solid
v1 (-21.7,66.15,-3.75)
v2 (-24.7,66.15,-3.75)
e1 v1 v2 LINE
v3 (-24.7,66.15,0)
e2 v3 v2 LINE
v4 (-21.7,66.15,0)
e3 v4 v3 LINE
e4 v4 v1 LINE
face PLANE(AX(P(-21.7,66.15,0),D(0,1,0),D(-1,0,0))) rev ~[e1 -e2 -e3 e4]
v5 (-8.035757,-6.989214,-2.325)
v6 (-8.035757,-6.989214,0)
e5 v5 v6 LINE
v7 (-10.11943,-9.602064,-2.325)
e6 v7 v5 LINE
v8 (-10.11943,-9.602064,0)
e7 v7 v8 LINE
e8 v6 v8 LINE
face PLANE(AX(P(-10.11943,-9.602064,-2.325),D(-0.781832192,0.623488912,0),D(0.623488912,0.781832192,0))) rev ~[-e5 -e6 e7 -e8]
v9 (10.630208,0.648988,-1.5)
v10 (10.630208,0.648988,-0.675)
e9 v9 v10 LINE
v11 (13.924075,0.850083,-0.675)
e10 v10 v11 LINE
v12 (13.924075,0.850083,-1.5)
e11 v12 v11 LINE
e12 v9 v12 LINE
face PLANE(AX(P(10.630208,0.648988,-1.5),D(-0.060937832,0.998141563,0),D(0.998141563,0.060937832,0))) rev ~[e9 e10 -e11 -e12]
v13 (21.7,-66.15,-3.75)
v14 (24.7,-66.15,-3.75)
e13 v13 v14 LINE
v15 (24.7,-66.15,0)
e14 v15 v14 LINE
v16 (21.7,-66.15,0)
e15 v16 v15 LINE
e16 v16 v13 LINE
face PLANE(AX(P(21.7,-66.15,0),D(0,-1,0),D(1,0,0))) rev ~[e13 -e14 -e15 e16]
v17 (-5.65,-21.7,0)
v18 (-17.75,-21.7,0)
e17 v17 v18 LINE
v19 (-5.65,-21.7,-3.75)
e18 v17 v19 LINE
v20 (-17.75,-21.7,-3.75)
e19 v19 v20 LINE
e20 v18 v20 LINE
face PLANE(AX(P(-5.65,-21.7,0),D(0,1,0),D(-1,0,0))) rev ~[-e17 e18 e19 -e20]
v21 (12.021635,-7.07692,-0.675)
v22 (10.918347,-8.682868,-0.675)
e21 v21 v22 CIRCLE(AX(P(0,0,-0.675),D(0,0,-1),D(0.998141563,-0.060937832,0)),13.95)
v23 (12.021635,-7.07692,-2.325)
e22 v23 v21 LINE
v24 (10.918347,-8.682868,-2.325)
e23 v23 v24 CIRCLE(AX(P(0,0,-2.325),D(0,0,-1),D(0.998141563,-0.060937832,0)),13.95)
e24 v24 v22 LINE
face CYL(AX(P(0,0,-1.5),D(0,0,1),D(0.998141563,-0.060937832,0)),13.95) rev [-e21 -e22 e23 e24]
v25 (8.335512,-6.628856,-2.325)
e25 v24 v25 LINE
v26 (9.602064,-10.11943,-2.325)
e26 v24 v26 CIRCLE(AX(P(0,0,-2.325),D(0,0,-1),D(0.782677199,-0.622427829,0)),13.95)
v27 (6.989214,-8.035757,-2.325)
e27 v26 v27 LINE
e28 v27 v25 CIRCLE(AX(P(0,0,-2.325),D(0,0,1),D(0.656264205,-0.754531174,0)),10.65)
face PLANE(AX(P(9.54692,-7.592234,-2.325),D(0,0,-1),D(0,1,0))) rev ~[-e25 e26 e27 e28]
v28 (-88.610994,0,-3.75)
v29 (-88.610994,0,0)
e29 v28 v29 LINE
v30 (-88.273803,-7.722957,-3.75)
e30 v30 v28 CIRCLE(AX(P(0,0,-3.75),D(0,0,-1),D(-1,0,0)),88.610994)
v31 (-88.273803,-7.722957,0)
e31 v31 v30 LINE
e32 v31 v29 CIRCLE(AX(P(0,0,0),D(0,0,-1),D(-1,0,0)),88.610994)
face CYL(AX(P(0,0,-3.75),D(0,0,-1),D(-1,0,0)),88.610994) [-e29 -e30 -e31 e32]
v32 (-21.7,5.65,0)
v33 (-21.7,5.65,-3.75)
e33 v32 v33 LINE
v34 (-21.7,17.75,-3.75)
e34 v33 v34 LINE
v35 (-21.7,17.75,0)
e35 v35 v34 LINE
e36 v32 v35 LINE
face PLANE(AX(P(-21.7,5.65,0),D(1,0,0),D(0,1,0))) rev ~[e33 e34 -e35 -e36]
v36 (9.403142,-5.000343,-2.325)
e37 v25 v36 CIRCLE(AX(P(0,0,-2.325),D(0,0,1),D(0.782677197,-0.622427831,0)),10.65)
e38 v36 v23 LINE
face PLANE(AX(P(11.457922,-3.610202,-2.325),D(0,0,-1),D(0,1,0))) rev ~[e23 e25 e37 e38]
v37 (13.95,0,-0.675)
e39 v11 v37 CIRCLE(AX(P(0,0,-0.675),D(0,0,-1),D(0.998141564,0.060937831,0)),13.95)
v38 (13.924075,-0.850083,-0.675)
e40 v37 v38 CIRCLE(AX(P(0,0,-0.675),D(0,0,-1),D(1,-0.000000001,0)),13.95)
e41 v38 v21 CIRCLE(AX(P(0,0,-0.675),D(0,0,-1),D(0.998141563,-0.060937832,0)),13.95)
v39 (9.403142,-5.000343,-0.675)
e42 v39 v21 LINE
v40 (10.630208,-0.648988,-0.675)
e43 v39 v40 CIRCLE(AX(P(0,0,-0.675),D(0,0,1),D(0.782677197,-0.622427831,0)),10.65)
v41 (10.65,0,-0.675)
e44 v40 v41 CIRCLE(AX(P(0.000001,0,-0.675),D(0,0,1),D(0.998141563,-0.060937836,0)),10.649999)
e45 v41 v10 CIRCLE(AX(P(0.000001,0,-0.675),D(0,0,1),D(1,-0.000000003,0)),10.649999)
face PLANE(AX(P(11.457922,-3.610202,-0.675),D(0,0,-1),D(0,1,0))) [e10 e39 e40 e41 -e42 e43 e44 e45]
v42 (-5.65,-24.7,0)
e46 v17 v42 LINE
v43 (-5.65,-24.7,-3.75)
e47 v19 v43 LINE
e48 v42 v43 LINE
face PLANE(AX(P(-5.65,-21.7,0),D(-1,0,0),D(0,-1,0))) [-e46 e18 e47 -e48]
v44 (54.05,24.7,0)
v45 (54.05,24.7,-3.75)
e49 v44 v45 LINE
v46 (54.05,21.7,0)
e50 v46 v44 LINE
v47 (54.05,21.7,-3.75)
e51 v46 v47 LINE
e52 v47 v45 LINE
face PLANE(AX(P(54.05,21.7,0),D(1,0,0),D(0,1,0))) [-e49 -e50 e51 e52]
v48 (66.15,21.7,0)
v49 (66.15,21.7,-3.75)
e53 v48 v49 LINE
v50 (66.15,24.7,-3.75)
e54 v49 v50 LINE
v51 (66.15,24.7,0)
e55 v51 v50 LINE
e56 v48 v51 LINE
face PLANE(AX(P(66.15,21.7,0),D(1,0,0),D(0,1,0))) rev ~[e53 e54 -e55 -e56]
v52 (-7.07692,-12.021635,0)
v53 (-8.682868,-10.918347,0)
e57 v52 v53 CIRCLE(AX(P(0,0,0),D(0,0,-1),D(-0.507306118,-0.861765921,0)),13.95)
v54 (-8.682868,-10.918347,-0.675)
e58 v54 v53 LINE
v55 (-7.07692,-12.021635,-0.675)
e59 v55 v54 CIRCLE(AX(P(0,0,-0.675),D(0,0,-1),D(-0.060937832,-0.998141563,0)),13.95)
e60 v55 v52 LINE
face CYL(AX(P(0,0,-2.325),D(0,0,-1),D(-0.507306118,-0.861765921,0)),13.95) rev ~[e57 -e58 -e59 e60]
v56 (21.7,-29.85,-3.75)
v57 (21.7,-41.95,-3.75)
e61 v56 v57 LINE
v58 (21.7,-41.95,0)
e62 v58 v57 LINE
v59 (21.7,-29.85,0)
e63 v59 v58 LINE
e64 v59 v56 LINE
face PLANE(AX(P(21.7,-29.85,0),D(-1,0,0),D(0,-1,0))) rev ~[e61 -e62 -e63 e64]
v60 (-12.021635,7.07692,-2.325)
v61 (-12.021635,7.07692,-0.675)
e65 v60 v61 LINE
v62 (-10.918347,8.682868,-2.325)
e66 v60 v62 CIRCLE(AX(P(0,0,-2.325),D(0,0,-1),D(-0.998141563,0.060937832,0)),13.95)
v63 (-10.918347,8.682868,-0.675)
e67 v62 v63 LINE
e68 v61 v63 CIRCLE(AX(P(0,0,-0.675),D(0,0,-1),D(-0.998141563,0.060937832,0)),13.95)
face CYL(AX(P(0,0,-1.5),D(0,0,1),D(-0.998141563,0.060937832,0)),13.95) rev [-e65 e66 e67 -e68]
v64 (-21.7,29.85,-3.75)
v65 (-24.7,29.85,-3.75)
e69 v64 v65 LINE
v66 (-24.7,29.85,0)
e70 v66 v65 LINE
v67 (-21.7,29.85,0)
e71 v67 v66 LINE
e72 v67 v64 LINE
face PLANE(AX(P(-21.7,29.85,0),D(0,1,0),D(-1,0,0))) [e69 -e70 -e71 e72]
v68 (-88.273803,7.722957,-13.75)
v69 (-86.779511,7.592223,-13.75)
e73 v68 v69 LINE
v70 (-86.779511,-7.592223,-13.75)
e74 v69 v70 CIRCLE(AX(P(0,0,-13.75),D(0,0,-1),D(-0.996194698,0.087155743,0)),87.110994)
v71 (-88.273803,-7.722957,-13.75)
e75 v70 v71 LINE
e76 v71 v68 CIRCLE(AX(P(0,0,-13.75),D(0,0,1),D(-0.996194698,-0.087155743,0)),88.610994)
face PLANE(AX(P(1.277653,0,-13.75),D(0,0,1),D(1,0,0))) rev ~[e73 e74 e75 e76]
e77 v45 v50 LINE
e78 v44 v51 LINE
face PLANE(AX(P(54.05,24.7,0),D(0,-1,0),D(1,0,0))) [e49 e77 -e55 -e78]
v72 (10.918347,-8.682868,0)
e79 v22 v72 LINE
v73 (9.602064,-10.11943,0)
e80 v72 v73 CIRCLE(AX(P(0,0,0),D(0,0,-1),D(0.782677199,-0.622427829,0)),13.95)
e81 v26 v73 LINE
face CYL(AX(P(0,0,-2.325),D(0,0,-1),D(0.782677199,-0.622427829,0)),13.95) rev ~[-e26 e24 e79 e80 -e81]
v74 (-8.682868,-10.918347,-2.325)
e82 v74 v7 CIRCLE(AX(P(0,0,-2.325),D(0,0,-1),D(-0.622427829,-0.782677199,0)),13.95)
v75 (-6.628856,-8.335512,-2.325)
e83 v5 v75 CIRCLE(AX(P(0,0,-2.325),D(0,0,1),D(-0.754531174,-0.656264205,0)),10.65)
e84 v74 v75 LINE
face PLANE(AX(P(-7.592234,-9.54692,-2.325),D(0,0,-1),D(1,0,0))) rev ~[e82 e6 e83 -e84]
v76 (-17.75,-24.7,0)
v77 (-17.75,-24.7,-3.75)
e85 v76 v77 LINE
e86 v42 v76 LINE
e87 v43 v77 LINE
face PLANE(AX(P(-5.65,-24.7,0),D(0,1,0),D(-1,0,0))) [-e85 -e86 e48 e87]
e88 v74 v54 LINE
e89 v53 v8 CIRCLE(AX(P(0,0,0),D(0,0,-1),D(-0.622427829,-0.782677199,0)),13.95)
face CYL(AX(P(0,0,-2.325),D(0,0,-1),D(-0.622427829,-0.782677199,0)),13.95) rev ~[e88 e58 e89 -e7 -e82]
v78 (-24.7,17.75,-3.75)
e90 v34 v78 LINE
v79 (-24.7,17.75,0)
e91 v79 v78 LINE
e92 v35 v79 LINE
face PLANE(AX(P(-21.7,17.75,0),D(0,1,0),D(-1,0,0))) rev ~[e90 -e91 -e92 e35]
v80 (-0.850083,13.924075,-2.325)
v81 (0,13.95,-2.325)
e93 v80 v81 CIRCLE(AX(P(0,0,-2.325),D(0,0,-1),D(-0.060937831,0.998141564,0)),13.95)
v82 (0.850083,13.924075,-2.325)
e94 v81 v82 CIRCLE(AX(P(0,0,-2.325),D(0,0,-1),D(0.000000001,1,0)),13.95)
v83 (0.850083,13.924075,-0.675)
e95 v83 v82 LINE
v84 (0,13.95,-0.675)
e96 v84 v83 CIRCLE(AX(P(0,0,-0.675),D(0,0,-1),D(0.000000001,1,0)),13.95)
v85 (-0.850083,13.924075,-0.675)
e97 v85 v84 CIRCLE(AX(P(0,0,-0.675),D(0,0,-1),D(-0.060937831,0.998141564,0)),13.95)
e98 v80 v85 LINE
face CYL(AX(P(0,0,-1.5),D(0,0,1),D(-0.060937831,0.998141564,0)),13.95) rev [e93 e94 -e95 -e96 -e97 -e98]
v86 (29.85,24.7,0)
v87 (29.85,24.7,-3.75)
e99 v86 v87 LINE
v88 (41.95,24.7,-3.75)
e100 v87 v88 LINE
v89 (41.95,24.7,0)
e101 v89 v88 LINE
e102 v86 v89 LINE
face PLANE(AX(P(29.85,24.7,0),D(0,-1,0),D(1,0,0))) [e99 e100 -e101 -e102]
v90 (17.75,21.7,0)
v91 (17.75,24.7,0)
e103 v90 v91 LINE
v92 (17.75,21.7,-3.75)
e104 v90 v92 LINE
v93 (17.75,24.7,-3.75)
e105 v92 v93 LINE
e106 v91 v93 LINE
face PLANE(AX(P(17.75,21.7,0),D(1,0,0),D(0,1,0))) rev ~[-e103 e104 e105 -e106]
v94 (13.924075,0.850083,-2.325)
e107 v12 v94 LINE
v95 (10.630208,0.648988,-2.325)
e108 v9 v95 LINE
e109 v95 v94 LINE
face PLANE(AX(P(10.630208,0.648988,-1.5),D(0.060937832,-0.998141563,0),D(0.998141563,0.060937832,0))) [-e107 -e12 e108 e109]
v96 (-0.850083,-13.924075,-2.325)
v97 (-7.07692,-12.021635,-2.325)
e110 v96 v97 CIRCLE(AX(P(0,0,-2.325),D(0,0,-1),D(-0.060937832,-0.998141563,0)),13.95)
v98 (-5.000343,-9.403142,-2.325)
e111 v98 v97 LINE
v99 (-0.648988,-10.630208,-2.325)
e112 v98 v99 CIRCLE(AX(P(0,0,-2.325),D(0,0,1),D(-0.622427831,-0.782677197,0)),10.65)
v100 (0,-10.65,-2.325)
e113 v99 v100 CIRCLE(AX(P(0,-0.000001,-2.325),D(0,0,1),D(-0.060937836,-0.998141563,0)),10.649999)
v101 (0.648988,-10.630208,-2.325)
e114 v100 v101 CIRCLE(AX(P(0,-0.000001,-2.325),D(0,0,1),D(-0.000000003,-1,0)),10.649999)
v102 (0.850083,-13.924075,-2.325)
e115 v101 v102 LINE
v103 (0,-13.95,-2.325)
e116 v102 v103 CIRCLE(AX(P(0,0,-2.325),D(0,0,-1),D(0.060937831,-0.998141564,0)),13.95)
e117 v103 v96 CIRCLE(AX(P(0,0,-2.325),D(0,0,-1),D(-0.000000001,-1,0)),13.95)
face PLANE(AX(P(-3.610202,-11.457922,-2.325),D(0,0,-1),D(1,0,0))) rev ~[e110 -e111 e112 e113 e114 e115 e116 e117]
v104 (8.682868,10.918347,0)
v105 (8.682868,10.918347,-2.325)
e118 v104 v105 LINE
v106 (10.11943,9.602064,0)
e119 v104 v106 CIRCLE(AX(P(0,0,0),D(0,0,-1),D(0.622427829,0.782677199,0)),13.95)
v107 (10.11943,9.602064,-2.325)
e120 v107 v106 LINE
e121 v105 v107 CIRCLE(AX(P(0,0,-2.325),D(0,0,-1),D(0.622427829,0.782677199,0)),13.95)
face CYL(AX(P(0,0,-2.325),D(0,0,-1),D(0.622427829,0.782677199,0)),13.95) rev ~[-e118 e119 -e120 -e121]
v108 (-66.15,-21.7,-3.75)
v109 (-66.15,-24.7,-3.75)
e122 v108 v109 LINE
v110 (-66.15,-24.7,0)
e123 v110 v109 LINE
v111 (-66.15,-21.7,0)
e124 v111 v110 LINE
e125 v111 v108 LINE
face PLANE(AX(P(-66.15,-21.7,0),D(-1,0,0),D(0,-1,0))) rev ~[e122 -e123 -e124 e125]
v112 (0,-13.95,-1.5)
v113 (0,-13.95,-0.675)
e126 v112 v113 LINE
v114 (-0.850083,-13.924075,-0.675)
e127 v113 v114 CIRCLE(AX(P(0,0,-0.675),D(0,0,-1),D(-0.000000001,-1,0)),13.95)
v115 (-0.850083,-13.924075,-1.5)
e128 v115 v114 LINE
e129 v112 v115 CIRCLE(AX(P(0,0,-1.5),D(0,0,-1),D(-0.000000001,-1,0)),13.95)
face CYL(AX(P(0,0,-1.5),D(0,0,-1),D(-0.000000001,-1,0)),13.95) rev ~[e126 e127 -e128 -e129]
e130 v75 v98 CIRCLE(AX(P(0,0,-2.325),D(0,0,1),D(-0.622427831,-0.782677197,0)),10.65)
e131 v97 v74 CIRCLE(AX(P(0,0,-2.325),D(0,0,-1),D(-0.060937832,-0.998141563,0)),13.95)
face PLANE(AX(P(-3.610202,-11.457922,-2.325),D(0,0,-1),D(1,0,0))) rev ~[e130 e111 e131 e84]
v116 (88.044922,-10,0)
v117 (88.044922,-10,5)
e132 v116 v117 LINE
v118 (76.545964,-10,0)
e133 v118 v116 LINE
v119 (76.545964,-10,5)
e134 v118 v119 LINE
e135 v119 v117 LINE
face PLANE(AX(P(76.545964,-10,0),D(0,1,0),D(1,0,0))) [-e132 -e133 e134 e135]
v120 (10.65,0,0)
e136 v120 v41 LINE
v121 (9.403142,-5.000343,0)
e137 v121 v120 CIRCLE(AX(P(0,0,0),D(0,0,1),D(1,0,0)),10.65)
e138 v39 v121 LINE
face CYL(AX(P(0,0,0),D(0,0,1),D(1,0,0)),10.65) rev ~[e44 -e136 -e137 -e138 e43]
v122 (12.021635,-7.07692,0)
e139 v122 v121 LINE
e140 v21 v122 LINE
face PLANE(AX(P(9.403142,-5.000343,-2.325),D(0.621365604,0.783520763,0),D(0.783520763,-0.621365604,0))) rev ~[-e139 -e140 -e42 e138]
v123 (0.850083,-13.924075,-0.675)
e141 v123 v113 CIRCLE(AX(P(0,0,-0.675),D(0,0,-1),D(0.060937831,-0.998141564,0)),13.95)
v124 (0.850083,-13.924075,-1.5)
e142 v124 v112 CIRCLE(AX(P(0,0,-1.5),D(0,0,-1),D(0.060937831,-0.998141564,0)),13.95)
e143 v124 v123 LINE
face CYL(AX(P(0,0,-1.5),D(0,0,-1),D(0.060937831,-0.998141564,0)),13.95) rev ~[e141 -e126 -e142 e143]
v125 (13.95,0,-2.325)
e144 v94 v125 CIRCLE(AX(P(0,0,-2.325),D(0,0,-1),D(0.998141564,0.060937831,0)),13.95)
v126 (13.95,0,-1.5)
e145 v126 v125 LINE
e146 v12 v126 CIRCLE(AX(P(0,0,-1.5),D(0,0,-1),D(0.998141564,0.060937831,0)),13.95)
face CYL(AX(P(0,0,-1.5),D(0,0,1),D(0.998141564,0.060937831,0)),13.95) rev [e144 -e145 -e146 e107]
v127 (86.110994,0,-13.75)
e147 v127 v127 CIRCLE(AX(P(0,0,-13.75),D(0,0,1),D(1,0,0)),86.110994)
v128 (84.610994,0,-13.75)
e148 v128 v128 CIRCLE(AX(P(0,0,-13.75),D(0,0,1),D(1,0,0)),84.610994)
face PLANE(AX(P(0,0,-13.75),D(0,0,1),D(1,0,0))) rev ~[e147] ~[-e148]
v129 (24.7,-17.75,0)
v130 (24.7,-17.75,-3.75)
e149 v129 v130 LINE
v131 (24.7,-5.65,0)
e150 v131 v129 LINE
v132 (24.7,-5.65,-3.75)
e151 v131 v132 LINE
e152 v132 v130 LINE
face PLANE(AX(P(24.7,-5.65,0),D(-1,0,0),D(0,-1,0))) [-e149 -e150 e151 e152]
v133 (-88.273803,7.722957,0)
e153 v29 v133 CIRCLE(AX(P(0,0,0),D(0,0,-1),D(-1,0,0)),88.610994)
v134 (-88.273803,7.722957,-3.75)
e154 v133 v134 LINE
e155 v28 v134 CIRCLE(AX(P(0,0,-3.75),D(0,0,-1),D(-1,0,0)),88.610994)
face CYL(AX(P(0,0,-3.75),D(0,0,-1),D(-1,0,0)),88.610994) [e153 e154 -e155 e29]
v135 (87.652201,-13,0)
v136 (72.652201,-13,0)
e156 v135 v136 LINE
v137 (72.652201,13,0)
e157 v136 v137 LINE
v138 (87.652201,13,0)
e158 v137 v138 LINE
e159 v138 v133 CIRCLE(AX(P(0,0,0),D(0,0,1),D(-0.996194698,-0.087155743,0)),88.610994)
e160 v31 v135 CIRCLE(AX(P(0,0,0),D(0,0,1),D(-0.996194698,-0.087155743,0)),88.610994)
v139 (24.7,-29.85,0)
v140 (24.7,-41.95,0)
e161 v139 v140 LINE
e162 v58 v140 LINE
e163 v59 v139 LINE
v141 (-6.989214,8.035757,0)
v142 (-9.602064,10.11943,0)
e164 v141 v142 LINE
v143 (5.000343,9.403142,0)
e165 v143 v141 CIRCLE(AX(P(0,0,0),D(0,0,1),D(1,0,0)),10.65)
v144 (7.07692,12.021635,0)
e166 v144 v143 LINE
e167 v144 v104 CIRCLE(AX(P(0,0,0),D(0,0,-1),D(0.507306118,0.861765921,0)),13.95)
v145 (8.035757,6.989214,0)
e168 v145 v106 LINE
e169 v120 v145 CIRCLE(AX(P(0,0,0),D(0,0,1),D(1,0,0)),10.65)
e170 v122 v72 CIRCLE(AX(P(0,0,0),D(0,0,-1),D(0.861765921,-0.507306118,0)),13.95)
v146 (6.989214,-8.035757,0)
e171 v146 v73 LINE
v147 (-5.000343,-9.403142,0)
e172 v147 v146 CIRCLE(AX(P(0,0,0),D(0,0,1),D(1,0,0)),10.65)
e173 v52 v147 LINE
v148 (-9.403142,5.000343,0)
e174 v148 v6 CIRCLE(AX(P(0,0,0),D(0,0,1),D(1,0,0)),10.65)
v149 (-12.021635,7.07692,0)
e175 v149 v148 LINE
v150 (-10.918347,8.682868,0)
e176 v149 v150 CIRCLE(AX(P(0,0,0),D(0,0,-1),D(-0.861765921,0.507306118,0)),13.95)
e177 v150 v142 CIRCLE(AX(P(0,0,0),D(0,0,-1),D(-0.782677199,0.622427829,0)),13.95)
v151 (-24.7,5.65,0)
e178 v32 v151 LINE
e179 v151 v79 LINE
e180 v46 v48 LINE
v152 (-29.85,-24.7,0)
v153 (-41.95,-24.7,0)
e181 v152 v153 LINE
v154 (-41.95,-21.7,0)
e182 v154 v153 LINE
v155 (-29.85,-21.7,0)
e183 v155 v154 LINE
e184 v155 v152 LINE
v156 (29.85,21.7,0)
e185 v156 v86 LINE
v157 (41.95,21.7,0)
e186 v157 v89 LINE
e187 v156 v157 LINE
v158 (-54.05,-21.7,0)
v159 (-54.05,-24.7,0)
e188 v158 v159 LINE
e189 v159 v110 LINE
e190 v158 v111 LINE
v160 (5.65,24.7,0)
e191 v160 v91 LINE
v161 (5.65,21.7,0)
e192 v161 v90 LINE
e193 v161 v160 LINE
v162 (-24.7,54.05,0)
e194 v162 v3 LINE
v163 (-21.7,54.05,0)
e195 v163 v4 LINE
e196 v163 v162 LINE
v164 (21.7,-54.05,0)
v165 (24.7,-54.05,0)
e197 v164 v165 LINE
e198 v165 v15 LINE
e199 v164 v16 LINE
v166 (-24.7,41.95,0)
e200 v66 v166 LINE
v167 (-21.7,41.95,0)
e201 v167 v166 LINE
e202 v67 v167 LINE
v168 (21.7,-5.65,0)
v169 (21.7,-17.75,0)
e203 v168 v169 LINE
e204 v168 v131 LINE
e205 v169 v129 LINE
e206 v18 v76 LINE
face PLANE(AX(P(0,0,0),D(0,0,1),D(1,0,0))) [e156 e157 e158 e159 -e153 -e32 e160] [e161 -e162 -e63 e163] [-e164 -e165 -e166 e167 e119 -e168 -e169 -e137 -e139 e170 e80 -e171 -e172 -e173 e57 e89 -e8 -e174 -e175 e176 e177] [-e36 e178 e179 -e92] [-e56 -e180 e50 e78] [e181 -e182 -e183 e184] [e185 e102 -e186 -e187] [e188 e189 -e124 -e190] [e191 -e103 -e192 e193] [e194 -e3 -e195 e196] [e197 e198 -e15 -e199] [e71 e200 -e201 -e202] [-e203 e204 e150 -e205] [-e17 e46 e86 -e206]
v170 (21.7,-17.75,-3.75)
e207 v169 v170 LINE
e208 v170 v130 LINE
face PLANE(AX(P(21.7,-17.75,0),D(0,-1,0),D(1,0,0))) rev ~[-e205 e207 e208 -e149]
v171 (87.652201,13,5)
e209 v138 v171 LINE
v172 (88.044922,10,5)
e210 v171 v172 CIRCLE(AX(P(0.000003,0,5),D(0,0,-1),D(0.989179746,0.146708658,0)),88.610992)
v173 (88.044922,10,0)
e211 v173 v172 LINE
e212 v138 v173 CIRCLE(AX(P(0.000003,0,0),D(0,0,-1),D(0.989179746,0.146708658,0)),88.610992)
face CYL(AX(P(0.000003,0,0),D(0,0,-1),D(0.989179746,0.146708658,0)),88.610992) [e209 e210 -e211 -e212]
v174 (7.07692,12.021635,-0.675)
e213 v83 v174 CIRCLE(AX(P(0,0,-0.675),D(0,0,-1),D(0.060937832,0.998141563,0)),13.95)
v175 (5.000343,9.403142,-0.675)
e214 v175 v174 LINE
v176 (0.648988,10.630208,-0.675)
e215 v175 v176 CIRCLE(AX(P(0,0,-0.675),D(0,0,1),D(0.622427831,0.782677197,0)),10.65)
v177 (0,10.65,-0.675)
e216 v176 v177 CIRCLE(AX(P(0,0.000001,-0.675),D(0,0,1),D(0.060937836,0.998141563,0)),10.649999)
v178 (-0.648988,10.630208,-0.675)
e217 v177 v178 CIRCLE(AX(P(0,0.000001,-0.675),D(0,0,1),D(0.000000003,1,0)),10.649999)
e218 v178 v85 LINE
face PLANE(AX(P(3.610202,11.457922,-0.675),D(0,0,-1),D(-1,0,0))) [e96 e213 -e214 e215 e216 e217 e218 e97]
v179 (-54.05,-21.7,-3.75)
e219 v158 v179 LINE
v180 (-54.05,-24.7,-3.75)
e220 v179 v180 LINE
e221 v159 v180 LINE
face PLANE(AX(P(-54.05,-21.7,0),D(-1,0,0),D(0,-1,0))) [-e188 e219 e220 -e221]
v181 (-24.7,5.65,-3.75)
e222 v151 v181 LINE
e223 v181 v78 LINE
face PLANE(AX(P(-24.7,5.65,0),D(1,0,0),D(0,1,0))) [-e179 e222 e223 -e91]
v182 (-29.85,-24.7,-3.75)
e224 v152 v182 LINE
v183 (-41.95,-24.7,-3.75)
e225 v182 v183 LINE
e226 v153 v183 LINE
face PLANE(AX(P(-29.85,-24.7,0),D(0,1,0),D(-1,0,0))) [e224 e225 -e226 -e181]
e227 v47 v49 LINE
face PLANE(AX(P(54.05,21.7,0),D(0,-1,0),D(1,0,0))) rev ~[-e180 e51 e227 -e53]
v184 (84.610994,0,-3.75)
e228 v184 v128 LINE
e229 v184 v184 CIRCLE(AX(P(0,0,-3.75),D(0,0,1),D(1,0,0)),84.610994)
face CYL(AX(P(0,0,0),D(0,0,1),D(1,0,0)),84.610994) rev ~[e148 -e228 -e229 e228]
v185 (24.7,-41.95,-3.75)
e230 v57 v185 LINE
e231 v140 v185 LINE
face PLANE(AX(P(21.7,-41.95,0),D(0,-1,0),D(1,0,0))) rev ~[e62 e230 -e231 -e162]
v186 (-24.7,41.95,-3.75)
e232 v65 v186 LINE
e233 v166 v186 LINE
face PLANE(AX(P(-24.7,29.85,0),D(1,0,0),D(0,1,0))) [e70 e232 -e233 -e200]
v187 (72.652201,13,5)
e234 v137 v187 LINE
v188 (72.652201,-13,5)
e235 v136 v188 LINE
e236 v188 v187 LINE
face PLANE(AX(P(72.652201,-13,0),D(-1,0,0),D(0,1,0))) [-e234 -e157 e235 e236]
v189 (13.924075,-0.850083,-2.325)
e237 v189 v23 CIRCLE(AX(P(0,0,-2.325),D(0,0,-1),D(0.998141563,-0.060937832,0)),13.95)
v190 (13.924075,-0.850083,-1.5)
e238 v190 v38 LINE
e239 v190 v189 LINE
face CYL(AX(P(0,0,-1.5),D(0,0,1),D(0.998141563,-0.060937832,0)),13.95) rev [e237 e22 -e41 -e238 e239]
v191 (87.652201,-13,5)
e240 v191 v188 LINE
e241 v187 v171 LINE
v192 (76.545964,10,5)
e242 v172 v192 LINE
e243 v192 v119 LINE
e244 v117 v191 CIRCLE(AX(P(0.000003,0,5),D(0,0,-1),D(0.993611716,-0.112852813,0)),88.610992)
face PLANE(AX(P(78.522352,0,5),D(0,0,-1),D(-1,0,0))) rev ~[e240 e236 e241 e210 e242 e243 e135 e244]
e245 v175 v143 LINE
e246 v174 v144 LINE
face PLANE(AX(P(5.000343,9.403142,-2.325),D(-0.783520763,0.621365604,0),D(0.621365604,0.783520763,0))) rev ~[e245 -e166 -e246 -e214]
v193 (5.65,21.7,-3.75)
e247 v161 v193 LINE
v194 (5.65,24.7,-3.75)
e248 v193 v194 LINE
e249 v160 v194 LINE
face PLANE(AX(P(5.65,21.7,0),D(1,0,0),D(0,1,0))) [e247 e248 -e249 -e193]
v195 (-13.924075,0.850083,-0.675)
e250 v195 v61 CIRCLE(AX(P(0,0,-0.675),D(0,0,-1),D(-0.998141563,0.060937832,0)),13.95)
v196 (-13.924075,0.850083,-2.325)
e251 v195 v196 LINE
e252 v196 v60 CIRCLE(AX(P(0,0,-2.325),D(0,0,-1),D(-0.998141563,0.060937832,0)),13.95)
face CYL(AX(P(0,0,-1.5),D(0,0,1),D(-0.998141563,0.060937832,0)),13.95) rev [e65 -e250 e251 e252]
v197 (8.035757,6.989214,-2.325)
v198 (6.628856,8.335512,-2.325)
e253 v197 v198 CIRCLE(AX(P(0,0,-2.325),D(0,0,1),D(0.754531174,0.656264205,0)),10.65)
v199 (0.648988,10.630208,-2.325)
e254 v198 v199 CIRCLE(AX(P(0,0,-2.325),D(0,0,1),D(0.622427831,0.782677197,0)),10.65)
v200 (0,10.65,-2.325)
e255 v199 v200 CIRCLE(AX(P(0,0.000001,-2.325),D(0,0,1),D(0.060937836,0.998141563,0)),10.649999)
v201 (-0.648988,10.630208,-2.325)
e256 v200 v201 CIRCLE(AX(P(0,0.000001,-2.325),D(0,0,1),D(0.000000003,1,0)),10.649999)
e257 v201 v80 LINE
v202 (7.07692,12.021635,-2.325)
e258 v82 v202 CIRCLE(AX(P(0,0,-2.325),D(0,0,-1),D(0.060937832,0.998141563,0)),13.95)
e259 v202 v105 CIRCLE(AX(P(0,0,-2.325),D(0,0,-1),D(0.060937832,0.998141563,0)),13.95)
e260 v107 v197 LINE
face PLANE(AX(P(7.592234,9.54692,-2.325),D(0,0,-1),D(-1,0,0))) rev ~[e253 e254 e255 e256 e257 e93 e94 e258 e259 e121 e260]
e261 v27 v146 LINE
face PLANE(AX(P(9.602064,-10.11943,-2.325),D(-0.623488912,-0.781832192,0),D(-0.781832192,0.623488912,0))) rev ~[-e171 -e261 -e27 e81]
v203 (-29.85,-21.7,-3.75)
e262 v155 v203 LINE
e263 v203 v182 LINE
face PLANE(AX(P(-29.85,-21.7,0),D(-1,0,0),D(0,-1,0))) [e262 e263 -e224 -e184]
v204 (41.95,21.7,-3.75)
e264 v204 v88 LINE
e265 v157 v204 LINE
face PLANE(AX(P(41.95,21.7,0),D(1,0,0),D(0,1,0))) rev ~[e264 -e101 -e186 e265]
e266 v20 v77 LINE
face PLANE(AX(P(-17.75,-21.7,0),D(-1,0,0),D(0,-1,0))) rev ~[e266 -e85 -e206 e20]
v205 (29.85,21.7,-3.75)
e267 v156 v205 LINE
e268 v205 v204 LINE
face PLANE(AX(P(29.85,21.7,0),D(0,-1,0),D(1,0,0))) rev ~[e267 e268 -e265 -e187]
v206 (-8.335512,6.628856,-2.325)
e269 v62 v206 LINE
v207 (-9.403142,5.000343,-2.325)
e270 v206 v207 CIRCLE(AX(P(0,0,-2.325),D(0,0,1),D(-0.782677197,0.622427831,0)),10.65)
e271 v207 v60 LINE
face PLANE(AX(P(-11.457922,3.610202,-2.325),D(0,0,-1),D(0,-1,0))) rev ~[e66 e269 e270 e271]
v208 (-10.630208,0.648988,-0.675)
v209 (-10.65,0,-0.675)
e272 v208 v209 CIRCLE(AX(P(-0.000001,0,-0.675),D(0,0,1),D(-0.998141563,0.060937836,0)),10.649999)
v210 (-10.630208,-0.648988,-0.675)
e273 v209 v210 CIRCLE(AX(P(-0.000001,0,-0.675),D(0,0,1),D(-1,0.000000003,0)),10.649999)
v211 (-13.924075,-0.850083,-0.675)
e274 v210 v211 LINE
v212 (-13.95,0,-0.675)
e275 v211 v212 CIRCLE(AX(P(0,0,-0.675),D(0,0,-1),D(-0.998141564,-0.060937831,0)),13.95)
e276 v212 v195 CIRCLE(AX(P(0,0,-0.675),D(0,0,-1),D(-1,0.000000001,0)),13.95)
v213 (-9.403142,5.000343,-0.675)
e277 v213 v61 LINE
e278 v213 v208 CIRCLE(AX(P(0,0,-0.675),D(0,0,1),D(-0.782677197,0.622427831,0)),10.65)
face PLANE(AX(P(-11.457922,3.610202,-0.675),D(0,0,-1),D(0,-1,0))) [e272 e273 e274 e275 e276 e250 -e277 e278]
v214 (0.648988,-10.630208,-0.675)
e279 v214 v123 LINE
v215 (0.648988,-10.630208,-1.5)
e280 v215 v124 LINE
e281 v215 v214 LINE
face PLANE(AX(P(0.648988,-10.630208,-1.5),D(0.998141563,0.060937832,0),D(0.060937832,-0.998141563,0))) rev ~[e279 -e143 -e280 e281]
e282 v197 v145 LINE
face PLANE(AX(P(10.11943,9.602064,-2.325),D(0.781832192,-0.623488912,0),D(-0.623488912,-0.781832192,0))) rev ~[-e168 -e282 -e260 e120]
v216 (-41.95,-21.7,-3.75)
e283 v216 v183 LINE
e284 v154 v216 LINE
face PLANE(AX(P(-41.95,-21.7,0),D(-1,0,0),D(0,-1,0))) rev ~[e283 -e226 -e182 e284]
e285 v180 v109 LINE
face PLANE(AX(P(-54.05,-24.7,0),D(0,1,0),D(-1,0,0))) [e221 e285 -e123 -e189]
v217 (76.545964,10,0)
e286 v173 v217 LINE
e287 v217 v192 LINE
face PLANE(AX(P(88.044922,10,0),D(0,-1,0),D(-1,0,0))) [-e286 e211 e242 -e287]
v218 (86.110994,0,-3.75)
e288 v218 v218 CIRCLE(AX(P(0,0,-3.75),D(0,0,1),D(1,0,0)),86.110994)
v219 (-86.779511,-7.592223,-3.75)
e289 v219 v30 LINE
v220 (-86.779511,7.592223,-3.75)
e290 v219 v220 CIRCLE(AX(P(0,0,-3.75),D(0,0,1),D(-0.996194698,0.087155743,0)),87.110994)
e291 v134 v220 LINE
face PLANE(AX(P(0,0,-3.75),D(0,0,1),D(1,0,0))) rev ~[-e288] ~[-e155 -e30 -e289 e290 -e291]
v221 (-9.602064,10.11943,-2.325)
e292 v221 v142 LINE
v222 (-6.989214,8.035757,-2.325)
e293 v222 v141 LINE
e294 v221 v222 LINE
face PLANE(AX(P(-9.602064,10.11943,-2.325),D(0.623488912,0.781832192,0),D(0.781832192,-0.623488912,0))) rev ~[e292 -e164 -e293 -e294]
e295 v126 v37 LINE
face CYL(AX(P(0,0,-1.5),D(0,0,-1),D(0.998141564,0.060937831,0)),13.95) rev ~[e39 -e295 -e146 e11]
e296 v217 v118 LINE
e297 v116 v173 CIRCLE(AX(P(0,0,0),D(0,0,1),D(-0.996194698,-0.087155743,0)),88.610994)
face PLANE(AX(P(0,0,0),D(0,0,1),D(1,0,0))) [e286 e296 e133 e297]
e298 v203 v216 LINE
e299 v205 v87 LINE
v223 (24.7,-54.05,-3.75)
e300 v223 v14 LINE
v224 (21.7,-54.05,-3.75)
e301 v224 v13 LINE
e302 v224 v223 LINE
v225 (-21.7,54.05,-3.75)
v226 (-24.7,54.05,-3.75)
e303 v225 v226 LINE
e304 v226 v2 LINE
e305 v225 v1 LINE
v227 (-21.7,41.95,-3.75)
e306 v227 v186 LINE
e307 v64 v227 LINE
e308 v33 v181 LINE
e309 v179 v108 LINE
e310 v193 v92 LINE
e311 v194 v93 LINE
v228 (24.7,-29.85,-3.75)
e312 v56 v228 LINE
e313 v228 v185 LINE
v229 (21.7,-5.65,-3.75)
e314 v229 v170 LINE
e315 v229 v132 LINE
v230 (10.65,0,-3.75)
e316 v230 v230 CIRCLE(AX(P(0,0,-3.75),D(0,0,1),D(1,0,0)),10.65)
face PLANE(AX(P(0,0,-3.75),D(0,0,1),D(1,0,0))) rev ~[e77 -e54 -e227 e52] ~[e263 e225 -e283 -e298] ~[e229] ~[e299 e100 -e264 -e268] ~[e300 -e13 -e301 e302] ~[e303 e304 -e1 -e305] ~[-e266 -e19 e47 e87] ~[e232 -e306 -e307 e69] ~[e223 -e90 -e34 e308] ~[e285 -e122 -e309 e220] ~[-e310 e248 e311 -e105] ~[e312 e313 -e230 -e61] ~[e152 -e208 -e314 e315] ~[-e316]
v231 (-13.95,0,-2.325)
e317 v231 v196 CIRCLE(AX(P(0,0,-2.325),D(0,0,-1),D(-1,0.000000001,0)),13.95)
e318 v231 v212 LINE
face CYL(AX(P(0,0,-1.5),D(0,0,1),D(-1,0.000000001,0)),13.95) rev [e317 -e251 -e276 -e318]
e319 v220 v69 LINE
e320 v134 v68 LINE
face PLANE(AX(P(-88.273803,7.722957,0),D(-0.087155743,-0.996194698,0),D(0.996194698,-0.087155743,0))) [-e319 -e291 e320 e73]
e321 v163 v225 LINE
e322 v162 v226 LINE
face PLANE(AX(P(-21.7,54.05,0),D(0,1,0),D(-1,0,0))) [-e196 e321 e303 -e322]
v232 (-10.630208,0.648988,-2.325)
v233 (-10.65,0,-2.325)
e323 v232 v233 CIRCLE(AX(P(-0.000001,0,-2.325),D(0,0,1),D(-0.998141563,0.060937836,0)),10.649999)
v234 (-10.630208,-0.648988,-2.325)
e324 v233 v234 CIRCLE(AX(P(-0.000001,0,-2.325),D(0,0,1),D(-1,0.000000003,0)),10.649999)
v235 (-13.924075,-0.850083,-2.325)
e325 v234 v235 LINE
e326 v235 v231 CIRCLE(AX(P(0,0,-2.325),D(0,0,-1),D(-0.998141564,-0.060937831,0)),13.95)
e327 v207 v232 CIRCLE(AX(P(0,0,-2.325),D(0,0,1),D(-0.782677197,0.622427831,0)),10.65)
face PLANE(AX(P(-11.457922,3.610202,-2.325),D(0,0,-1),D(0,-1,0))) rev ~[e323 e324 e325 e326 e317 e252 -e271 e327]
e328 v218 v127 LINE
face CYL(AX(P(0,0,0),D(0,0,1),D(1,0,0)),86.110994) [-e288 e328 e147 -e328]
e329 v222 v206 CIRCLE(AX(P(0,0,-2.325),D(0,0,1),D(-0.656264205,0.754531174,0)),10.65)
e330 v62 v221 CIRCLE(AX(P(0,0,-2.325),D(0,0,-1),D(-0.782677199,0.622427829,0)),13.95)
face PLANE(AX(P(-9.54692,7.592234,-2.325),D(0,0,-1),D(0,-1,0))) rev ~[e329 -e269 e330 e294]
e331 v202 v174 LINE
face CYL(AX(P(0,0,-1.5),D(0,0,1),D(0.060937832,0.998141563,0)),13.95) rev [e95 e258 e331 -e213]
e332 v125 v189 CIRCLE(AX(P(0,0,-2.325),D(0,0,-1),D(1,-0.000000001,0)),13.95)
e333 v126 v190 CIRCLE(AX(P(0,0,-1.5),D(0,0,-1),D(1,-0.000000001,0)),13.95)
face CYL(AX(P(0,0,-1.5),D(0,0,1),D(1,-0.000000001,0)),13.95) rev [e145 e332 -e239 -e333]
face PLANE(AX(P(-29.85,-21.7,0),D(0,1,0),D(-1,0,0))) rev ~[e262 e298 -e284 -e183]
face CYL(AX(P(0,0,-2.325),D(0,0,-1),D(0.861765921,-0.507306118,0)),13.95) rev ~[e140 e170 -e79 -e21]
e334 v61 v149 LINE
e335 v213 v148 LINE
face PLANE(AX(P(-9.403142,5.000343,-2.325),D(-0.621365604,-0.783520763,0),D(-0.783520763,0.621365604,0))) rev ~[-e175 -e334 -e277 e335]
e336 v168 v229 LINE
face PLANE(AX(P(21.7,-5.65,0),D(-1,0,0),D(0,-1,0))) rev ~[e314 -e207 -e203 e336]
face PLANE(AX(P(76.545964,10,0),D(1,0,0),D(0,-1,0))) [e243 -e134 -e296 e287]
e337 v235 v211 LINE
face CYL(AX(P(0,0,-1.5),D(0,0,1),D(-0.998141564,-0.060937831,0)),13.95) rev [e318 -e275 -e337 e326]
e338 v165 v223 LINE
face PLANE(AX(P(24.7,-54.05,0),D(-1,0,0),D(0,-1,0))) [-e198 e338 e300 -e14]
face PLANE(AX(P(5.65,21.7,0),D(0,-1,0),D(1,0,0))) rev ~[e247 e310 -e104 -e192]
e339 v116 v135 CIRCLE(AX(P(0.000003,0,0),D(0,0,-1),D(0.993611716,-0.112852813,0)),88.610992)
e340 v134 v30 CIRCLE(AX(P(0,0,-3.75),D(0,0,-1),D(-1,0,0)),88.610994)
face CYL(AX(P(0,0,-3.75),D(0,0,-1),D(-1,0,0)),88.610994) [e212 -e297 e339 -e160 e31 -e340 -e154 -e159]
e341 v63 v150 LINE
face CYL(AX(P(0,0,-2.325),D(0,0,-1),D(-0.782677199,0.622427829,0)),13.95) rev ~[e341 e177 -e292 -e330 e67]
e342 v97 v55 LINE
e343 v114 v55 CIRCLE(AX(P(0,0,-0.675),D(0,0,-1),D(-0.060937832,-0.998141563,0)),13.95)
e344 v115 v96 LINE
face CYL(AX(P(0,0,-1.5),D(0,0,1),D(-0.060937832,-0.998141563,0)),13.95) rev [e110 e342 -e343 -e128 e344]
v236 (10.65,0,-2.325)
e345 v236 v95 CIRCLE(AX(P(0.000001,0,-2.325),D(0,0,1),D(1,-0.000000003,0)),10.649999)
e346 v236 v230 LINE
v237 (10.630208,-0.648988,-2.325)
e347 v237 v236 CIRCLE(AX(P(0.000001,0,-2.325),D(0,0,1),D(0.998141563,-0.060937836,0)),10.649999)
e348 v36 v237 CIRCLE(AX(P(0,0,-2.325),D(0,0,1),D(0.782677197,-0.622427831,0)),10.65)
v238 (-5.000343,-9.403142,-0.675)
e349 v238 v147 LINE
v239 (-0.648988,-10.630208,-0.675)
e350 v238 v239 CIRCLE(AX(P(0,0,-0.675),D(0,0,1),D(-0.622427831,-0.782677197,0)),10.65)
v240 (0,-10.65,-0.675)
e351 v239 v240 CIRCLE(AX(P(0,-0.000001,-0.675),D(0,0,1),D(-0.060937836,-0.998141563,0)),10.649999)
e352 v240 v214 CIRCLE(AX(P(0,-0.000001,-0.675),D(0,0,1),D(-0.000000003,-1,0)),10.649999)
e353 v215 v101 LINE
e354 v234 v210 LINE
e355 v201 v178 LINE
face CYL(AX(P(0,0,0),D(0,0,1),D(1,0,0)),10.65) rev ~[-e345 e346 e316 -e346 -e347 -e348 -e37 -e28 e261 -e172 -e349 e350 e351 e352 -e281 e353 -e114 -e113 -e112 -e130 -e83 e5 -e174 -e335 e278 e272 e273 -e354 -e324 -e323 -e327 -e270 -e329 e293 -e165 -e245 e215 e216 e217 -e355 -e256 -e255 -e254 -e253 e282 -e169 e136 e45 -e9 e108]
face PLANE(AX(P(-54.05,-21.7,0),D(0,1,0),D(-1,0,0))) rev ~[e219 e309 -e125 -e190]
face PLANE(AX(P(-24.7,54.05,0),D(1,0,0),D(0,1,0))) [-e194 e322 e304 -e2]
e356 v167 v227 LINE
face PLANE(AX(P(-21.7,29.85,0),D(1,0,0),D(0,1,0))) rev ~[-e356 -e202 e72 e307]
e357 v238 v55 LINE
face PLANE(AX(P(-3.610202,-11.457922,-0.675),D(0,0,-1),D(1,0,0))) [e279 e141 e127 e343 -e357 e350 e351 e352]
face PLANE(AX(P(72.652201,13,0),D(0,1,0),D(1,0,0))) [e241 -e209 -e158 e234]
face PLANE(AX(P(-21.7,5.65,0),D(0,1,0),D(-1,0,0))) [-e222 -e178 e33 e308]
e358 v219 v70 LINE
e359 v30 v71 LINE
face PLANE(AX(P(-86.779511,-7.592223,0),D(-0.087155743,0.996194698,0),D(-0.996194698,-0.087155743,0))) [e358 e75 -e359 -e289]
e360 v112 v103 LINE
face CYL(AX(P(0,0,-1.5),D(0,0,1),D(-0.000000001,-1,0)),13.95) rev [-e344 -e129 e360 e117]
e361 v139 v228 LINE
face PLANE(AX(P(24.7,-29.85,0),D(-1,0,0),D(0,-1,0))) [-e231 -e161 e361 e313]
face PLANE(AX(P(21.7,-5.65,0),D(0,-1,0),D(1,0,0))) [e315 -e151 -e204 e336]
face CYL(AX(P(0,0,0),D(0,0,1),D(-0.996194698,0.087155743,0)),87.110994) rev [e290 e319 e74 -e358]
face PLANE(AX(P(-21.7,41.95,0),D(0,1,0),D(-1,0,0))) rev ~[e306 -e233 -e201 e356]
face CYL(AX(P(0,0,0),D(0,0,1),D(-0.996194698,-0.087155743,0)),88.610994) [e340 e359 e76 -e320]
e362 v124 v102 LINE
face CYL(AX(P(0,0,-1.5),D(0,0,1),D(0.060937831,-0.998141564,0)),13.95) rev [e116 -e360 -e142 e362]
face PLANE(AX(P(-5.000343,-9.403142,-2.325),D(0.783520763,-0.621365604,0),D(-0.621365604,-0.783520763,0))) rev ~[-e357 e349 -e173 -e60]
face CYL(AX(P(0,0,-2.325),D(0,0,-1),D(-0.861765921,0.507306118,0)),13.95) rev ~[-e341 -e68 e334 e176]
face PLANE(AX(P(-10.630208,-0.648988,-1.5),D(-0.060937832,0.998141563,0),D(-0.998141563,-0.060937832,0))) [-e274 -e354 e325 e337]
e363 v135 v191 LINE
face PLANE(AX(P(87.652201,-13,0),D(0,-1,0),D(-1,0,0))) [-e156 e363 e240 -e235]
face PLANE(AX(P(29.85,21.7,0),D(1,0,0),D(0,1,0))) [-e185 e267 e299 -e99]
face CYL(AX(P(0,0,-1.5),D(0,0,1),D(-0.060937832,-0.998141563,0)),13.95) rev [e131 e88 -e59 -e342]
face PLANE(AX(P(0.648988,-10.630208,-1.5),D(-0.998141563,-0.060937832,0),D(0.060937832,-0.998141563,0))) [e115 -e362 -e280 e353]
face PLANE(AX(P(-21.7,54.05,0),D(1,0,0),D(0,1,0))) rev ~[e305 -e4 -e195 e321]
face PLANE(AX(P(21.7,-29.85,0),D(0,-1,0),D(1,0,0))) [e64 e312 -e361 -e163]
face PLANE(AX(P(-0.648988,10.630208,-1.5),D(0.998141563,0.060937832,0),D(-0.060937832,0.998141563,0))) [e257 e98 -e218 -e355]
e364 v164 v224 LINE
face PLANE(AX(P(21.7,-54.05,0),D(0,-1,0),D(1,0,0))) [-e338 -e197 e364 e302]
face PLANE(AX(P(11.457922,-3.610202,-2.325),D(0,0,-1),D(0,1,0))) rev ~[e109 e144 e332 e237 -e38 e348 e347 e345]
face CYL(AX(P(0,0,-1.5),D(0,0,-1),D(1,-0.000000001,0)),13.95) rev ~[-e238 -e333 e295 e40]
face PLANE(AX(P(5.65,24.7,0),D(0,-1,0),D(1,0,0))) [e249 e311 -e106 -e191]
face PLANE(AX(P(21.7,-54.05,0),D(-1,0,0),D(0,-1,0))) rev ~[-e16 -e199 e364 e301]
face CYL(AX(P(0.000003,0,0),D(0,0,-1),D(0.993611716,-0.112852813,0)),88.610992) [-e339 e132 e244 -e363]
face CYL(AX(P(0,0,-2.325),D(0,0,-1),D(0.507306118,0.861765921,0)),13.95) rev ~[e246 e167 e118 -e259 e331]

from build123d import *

# Parameters (mm, degrees)
SKETCH1_W           = 200
SKETCH1_H           = 200
SKETCH1_R           = 10.65
BOSS_EXTRUDE1_DEPTH = 3.75
CUT_EXTRUDE4_START  = -1.5
CUT_EXTRUDE4_DEPTH  = 0.825
CUT_EXTRUDE5_DEPTH  = 3.325
CIRPATTERN1_COUNT   = 4
SKETCH5_W           = 12.1
SKETCH5_H           = 3
CUT_EXTRUDE6_DEPTH  = 10
CIRPATTERN2_COUNT   = 4
SKETCH6_W           = 200
SKETCH6_H           = 200.182674684
SKETCH6_R           = 88.610994186
CUT_EXTRUDE7_DEPTH  = 4.75
SKETCH8_R           = 86.110994186
SKETCH8_R_2         = 84.610994186
BOSS_EXTRUDE2_DEPTH = 13.75
BOSS_EXTRUDE3_DEPTH = 5


with BuildPart() as part:
    # Sketch1 → Boss-Extrude1 (new body)
    with BuildSketch(Plane.XY):
        Rectangle(SKETCH1_W, SKETCH1_H)
        Circle(SKETCH1_R, mode=Mode.SUBTRACT)
    extrude(amount=-BOSS_EXTRUDE1_DEPTH)

    # Sketch2 → Cut-Extrude4 (cut, symmetric)
    with BuildSketch(Plane.XY.offset(CUT_EXTRUDE4_START)):
        with BuildLine():
            Line((8.682868236, 10.918346907), (6.628856395, 8.335512155))
            ThreePointArc((6.628856395, 8.335512155), (3.815515862, 9.943054798), (0.648987911, 10.63020765))
            ThreePointArc((0.648987911, 10.63020765), (0.324644823, 10.645050763), (0, 10.65))
            ThreePointArc((0, 10.65), (-0.324644823, 10.645050763), (-0.648987911, 10.63020765))
            Line((-0.648987911, 10.63020765), (-0.850082756, 13.92407481))
            ThreePointArc((-0.850082756, 13.92407481), (-0.425238994, 13.943517196), (0, 13.95))
            ThreePointArc((0, 13.95), (0.425238994, 13.943517196), (0.850082756, 13.92407481))
            ThreePointArc((0.850082756, 13.92407481), (4.997788382, 13.024001355), (8.682868236, 10.918346907))
        make_face()
    cut_extrude4 = extrude(amount=CUT_EXTRUDE4_DEPTH, both=True, mode=Mode.SUBTRACT)

    # Sketch4 → Cut-Extrude5 (cut, through all)
    with BuildSketch(Plane.XY.offset(-2.325)):
        with BuildLine():
            Line((5.000342926, 9.403141529), (7.076920348, 12.021634597))
            ThreePointArc((7.076920348, 12.021634597), (7.89918002, 11.498063098), (8.682868236, 10.918346907))
            ThreePointArc((8.682868236, 10.918346907), (9.424158272, 10.285316761), (10.119430429, 9.602063726))
            Line((10.119430429, 9.602063726), (8.035757001, 6.989213791))
            ThreePointArc((8.035757001, 6.989213791), (7.363141404, 7.694585672), (6.628856395, 8.335512155))
            ThreePointArc((6.628856395, 8.335512155), (5.839051921, 8.906625212), (5.000342926, 9.403141529))
        make_face()
    cut_extrude5 = extrude(amount=CUT_EXTRUDE5_DEPTH, mode=Mode.SUBTRACT)

    # CirPattern1: Cut-Extrude4, Cut-Extrude5 ×4 about axis
    cirpattern1_axis = Axis((0, 0, 0), (0, 0, 1))
    for i in range(1, CIRPATTERN1_COUNT):
        add(cut_extrude4.rotate(cirpattern1_axis, i * 360 / CIRPATTERN1_COUNT), mode=Mode.SUBTRACT)
        add(cut_extrude5.rotate(cirpattern1_axis, i * 360 / CIRPATTERN1_COUNT), mode=Mode.SUBTRACT)

    # Sketch5 → Cut-Extrude6 (cut)
    with BuildSketch(Plane.XY):
        with Locations((35.9, 23.2)):
            Rectangle(SKETCH5_W, SKETCH5_H)
        with Locations((60.1, 23.2)):
            Rectangle(SKETCH5_W, SKETCH5_H)
        with Locations((11.7, 23.2)):
            Rectangle(SKETCH5_W, SKETCH5_H)
    cut_extrude6 = extrude(amount=-CUT_EXTRUDE6_DEPTH, mode=Mode.SUBTRACT)

    # CirPattern2: Cut-Extrude6 ×4 about axis
    cirpattern2_axis = Axis((0, 0, 0), (0, 0, 1))
    for i in range(1, CIRPATTERN2_COUNT):
        add(cut_extrude6.rotate(cirpattern2_axis, i * 360 / CIRPATTERN2_COUNT), mode=Mode.SUBTRACT)

    # Sketch6 → Cut-Extrude7 (cut, through all)
    with BuildSketch(Plane(origin=(0, 0, -3.75), x_dir=(-1, 0, 0), z_dir=(0, 0, -1))):
        with Locations((0, 0.091337342)):
            Rectangle(SKETCH6_W, SKETCH6_H)
        Circle(SKETCH6_R, mode=Mode.SUBTRACT)
    extrude(amount=-CUT_EXTRUDE7_DEPTH, mode=Mode.SUBTRACT)

    # Sketch8 → Boss-Extrude2 (add)
    with BuildSketch(Plane.XY):
        Circle(SKETCH8_R)
        Circle(SKETCH8_R_2, mode=Mode.SUBTRACT)
        with BuildLine():
            Line((-88.273802601, 7.722957014), (-86.779510554, 7.5922234))
            ThreePointArc((-86.779510554, 7.5922234), (87.110994186, 0), (-86.779510554, -7.5922234))
            Line((-86.779510554, -7.5922234), (-88.273802601, -7.722957014))
            ThreePointArc((-88.273802601, -7.722957014), (88.610994186, 0), (-88.273802601, 7.722957014))
        make_face()
    extrude(amount=-BOSS_EXTRUDE2_DEPTH)

    # Sketch11 → Boss-Extrude3 (add)
    with BuildSketch(Plane.XY):
        with BuildLine():
            Line((76.545964234, -10), (88.044922004, -10))
            ThreePointArc((88.044922004, -10), (87.861366557, -11.501676291), (87.652200718, -13))
            Line((87.652200718, -13), (72.652200718, -13))
            Line((72.652200718, -13), (72.652200718, 13))
            Line((72.652200718, 13), (87.652200718, 13))
            ThreePointArc((87.652200718, 13), (87.861366557, 11.501676291), (88.044922004, 10))
            Line((88.044922004, 10), (76.545964234, 10))
            Line((76.545964234, 10), (76.545964234, -10))
        make_face()
    extrude(amount=BOSS_EXTRUDE3_DEPTH)


solid = part.part
